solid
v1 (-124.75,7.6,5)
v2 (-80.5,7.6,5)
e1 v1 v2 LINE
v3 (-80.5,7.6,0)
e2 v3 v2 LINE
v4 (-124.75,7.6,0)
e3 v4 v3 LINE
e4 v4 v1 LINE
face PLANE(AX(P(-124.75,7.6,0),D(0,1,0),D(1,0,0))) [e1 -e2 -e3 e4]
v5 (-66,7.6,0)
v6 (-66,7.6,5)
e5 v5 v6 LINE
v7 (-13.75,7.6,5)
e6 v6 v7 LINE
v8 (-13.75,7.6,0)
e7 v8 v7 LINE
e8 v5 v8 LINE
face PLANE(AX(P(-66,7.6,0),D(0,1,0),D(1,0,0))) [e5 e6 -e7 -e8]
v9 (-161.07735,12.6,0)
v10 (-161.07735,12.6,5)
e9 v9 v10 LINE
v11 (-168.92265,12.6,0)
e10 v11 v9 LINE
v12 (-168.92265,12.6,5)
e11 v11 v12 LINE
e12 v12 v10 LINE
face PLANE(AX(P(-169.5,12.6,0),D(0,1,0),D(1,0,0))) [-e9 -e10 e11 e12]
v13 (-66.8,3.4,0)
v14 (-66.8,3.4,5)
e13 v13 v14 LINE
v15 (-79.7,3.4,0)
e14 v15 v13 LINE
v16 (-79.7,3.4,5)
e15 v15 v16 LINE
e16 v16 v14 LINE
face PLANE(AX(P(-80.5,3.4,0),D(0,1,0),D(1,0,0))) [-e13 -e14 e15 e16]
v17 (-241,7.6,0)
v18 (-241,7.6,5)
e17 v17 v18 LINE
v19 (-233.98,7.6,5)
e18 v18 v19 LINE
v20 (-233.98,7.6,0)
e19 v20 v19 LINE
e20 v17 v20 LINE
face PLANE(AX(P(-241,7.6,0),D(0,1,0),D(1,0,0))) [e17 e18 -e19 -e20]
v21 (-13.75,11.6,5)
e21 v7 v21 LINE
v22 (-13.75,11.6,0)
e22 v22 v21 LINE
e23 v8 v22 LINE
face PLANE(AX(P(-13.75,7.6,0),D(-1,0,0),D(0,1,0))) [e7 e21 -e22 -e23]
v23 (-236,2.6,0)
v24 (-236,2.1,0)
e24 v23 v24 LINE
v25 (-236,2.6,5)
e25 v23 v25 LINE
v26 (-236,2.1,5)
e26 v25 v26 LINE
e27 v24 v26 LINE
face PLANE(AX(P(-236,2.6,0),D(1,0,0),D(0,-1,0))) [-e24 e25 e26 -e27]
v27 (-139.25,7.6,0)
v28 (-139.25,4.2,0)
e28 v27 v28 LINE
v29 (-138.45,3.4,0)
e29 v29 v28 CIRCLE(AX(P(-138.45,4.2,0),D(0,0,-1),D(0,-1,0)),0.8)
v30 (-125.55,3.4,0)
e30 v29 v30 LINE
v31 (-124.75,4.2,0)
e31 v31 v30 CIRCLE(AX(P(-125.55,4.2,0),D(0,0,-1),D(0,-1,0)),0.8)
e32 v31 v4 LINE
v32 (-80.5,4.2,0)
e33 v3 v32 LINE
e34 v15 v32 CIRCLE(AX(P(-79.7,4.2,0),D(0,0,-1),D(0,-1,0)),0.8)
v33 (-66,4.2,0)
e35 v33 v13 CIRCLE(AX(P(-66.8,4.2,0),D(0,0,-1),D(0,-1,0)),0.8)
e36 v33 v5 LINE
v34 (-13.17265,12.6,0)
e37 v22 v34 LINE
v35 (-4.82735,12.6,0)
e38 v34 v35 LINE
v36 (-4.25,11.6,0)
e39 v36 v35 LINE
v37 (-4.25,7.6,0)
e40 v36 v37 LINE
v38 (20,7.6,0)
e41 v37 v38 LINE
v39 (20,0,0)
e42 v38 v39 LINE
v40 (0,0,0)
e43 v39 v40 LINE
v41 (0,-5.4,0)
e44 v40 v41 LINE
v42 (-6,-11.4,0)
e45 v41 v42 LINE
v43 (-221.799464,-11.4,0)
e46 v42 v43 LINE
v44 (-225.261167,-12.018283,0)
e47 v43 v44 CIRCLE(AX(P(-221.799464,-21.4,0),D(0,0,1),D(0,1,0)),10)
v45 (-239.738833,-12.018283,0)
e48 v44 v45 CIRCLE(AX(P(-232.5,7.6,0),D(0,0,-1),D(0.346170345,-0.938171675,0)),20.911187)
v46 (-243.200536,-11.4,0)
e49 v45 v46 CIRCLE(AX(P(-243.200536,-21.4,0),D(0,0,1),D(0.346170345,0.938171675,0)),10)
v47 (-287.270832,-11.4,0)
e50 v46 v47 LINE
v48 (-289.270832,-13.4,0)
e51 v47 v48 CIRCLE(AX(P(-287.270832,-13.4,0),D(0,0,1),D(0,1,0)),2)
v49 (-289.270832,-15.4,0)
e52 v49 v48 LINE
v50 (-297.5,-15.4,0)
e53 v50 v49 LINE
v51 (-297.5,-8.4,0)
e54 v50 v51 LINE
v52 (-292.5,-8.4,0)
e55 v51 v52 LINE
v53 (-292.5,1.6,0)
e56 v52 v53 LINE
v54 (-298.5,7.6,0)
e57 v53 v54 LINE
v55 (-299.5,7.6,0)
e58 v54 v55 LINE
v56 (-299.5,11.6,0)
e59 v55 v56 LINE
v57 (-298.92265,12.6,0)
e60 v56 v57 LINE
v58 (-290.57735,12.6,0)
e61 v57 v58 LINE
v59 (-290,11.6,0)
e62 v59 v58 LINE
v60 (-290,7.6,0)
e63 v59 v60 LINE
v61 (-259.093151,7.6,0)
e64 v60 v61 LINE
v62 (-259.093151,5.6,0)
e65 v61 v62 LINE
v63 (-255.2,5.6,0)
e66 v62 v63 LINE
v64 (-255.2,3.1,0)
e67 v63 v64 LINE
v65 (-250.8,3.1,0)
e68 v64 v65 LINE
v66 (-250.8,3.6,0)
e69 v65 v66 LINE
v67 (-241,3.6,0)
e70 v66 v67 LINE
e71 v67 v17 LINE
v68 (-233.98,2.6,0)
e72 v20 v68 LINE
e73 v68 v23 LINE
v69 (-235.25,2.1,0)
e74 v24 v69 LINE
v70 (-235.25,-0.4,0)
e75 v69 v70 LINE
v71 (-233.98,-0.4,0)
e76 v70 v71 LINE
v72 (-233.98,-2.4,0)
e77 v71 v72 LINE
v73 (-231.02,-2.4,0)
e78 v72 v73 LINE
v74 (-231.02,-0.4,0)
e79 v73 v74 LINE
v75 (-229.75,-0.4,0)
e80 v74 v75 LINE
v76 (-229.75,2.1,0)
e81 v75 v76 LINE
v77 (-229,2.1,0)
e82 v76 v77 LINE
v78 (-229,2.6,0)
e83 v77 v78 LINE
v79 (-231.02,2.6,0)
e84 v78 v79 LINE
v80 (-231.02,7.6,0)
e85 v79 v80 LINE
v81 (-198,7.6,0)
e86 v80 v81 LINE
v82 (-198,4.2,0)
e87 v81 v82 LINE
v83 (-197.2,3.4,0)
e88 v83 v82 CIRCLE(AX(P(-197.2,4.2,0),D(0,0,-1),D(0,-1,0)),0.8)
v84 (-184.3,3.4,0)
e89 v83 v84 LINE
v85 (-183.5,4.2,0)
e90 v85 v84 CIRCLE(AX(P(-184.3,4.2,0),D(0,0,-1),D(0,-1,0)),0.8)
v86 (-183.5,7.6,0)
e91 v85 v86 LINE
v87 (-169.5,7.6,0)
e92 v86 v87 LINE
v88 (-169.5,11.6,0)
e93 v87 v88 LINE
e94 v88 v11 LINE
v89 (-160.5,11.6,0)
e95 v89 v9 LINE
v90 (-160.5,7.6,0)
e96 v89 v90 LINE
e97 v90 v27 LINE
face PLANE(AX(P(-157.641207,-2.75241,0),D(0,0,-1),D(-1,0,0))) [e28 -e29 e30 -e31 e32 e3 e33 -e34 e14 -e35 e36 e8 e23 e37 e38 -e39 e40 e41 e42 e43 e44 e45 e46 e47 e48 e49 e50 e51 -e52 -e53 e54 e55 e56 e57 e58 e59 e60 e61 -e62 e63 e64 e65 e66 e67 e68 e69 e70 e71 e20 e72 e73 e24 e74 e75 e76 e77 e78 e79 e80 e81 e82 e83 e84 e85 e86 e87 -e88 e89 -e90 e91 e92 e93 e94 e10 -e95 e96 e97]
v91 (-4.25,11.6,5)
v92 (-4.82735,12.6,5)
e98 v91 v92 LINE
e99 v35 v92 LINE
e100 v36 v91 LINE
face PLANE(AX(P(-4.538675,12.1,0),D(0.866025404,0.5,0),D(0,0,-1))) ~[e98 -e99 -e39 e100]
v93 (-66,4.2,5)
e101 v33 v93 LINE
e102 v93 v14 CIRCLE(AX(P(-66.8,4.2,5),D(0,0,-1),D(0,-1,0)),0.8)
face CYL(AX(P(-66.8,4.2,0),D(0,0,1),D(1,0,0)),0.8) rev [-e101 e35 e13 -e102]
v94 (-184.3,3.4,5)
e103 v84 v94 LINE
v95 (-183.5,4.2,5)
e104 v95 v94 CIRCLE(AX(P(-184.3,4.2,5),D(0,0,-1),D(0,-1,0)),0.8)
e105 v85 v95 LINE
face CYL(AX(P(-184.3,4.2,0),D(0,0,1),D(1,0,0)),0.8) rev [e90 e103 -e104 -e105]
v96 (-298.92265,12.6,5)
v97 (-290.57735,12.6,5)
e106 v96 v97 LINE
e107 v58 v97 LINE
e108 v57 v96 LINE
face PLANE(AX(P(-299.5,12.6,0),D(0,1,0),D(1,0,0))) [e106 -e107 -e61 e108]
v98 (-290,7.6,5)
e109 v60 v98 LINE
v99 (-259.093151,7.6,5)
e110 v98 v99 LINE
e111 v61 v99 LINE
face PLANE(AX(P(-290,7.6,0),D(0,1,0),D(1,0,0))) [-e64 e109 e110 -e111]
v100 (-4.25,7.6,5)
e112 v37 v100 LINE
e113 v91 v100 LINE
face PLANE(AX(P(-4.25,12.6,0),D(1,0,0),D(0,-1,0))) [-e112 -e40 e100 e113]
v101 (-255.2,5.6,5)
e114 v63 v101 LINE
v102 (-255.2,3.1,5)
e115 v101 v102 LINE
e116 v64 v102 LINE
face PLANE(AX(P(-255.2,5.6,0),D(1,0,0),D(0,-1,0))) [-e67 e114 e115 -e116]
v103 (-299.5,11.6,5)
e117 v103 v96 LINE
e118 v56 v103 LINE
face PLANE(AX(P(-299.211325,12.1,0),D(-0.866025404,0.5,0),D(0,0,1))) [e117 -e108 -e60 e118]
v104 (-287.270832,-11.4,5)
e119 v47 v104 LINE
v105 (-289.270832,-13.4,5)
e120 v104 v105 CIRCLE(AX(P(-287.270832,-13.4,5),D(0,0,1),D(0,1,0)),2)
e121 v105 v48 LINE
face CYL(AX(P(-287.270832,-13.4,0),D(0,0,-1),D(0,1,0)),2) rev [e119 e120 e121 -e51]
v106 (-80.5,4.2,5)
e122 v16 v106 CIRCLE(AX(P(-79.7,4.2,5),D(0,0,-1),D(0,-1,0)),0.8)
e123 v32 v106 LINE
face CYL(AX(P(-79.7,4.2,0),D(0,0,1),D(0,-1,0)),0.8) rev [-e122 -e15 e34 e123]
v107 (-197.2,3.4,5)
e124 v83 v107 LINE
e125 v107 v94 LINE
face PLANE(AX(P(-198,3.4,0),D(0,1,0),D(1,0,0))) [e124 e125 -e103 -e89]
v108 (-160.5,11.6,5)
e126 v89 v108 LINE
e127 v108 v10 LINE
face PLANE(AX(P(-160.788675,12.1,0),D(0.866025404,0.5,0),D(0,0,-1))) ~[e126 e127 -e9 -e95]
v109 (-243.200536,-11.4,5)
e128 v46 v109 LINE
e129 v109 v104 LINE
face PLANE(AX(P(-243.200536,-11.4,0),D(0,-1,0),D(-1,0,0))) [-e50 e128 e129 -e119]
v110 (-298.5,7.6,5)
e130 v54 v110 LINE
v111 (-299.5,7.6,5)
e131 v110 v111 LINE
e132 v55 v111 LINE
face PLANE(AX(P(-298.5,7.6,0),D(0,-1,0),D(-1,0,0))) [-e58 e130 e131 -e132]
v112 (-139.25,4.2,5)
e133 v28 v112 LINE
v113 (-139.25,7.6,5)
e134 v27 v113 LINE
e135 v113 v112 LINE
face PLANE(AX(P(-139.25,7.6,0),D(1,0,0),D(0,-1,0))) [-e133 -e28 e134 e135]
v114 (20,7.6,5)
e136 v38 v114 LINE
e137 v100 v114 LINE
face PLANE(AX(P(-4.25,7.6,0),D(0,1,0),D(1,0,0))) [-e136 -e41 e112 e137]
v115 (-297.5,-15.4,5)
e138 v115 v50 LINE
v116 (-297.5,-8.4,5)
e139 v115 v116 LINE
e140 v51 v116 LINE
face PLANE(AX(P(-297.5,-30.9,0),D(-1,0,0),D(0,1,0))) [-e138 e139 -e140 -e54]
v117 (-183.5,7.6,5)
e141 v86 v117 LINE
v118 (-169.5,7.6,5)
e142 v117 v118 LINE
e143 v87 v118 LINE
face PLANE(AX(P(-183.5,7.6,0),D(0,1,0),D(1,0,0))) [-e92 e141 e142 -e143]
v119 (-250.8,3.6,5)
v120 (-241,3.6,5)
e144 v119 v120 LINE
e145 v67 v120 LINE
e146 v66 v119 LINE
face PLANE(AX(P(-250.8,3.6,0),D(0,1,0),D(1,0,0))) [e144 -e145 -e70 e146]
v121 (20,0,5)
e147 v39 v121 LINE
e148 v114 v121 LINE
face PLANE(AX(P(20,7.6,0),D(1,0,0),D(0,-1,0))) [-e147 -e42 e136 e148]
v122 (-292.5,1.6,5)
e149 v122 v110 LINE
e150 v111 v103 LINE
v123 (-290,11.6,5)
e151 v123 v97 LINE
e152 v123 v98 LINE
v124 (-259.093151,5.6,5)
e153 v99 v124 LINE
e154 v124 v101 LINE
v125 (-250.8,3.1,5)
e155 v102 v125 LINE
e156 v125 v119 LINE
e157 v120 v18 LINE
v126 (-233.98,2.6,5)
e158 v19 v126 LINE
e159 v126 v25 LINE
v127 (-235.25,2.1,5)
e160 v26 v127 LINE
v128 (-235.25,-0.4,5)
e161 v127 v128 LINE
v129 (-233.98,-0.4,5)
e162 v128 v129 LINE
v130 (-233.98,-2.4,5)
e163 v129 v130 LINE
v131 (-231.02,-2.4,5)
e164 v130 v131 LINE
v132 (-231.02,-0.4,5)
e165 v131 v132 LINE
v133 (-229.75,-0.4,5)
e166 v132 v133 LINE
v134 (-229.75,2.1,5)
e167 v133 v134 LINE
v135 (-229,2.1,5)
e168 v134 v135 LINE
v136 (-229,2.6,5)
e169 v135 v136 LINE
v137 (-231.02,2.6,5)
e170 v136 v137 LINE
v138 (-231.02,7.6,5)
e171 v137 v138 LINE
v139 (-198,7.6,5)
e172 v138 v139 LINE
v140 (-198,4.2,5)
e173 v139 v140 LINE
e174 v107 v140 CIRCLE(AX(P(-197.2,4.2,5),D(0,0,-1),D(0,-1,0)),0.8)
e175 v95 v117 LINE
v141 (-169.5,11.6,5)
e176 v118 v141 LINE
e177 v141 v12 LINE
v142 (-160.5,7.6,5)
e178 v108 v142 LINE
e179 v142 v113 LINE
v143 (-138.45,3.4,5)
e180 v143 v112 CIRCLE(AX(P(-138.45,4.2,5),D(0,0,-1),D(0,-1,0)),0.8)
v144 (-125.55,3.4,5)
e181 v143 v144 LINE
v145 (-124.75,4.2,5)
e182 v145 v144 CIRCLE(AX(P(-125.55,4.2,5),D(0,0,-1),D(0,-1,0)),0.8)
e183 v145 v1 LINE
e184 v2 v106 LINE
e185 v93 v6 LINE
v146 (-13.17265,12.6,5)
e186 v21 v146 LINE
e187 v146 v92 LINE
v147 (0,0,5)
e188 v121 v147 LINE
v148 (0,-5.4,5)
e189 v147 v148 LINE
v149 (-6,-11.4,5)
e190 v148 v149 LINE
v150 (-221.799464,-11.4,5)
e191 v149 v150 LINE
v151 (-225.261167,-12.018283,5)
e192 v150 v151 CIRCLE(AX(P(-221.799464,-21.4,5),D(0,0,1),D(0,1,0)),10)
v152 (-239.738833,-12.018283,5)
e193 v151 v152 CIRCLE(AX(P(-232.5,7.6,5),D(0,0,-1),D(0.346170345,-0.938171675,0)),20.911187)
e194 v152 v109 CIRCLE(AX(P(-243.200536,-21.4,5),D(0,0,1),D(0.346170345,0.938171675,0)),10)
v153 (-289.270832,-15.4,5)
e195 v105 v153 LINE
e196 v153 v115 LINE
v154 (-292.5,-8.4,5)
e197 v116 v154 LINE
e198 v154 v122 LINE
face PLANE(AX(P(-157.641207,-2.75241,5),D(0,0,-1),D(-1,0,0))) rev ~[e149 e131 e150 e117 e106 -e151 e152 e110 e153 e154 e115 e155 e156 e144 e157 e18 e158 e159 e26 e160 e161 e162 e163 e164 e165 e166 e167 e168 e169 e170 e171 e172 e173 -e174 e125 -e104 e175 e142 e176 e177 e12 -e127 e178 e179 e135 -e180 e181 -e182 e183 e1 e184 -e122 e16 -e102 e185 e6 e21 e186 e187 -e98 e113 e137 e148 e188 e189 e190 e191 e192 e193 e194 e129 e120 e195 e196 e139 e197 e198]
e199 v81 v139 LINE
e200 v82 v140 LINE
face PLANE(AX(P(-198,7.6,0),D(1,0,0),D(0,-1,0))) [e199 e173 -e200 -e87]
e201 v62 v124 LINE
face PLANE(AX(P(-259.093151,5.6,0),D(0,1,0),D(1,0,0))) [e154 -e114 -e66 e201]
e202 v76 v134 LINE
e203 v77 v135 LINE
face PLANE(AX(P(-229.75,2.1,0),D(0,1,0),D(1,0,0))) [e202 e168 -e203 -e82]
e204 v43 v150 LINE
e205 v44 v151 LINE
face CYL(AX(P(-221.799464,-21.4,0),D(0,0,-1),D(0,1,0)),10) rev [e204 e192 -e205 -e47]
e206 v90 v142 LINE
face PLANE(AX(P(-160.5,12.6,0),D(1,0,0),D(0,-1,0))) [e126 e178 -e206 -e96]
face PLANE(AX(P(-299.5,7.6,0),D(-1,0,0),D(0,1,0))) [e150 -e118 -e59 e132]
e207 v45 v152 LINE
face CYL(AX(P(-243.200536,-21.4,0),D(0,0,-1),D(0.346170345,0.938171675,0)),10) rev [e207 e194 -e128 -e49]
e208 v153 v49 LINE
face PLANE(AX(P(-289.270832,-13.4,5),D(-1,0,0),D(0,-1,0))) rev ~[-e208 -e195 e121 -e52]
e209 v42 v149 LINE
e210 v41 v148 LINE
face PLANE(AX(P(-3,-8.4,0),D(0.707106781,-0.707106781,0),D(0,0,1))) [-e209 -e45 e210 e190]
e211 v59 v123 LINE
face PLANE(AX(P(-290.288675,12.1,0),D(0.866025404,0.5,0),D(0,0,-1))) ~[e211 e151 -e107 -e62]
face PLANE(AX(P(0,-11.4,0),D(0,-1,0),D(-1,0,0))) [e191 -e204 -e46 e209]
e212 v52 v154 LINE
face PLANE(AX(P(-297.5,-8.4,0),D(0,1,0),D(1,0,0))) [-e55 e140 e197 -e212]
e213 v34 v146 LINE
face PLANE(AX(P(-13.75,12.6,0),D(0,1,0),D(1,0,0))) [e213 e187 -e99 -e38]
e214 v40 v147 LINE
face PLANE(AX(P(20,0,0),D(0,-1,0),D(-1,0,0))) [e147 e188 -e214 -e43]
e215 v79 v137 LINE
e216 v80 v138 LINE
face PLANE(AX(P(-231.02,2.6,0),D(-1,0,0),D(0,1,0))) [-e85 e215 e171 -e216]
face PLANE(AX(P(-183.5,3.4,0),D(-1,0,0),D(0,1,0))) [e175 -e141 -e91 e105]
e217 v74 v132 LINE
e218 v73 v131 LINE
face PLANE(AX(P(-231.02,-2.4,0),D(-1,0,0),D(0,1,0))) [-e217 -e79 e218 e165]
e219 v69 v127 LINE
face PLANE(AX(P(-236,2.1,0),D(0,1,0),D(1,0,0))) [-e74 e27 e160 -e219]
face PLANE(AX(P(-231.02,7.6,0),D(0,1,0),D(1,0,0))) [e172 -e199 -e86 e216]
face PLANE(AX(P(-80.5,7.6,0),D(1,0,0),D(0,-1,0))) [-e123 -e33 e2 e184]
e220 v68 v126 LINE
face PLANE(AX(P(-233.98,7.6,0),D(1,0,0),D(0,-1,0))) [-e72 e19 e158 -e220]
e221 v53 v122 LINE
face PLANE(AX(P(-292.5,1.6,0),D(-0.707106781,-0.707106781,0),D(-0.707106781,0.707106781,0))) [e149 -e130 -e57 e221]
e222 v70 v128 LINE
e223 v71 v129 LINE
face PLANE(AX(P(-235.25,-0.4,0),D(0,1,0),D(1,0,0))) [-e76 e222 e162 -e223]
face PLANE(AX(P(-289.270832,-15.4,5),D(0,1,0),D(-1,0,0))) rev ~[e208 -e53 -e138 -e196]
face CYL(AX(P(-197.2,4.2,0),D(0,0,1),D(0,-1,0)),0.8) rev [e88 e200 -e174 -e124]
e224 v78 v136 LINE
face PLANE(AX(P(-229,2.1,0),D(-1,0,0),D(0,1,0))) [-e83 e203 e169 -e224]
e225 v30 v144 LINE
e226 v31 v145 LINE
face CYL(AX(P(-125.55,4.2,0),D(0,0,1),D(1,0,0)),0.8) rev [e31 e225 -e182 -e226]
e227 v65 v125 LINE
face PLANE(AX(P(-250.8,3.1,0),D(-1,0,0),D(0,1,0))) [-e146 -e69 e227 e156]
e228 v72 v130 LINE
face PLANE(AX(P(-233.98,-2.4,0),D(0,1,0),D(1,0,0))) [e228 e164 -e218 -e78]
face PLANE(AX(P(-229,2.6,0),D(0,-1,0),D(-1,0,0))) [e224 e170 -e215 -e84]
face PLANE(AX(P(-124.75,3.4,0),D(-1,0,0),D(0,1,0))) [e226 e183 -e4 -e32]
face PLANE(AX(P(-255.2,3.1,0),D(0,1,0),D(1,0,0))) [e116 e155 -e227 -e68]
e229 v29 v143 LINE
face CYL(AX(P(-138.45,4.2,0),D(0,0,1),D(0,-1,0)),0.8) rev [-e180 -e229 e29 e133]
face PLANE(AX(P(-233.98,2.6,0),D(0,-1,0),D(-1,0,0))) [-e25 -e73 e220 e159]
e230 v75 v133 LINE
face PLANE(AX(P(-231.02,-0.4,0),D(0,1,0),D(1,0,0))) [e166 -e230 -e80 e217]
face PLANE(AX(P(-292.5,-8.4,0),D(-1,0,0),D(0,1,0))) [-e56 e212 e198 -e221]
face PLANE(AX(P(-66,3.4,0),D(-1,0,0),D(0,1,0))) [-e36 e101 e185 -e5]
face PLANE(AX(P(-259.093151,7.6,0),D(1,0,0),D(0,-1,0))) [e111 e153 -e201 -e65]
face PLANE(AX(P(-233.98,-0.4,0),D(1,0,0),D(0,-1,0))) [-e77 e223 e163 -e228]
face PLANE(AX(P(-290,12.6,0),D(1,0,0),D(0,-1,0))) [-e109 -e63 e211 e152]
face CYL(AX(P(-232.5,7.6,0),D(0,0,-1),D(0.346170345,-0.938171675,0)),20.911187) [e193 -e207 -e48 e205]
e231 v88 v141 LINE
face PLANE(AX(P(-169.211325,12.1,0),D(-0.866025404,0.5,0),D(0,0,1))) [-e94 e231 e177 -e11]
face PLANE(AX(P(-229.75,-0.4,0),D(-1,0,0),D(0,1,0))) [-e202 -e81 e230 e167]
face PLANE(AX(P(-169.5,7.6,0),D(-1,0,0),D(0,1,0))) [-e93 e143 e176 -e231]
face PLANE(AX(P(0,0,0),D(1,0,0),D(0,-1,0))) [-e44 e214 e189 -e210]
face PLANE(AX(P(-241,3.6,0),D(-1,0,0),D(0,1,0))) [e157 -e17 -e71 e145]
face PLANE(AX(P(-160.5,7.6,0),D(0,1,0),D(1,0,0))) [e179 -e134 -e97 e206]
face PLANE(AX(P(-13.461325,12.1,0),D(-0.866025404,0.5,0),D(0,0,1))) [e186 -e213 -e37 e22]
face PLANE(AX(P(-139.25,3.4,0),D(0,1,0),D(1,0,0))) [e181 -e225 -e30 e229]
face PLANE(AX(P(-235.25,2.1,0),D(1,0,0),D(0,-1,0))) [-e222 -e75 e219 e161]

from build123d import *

# Parameters (mm, degrees)
BOSS_EXTRUDE1_DEPTH   = 5
CHAMFER1_SIZE         = 6
CUT_EXTRUDE2_DEPTH    = 6
CHAMFER3_SIZE         = 1
CHAMFER3_SIZE2        = 0.577350269
CHAMFER3_PART_2_SIZE  = 1
CHAMFER3_PART_2_SIZE2 = 0.577350269
CHAMFER3_PART_3_SIZE  = 1
CHAMFER3_PART_3_SIZE2 = 0.577350269
CHAMFER4_SIZE         = 1
CHAMFER4_SIZE2        = 0.577350269
CHAMFER4_PART_2_SIZE  = 1
CHAMFER4_PART_2_SIZE2 = 0.577350269
CHAMFER4_PART_3_SIZE  = 1
CHAMFER4_PART_3_SIZE2 = 0.577350269
FILLET1_R             = 0.8


with BuildPart() as part:
    # Sketch1 → Boss-Extrude1 (new body)
    with BuildSketch(Plane.XY):
        with BuildLine():
            Line((-250.8, 3.6), (-241, 3.6))
            Line((-241, 3.6), (-241, 7.6))
            Line((-241, 7.6), (-233.98, 7.6))
            Line((-233.98, 7.6), (-233.98, 2.6))
            Line((-233.98, 2.6), (-236, 2.6))
            Line((-236, 2.6), (-236, 2.1))
            Line((-236, 2.1), (-235.25, 2.1))
            Line((-235.25, 2.1), (-235.25, -0.4))
            Line((-235.25, -0.4), (-233.98, -0.4))
            Line((-233.98, -0.4), (-233.98, -2.4))
            Line((-233.98, -2.4), (-231.02, -2.4))
            Line((-231.02, -2.4), (-231.02, -0.4))
            Line((-231.02, -0.4), (-229.75, -0.4))
            Line((-229.75, -0.4), (-229.75, 2.1))
            Line((-229.75, 2.1), (-229, 2.1))
            Line((-229, 2.1), (-229, 2.6))
            Line((-229, 2.6), (-231.02, 2.6))
            Line((-231.02, 2.6), (-231.02, 7.6))
            Line((-231.02, 7.6), (-198, 7.6))
            Line((-198, 7.6), (-198, 3.4))
            Line((-198, 3.4), (-183.5, 3.4))
            Line((-183.5, 3.4), (-183.5, 7.6))
            Line((-183.5, 7.6), (-169.5, 7.6))
            Line((-169.5, 7.6), (-169.5, 12.6))
            Line((-169.5, 12.6), (-160.5, 12.6))
            Line((-160.5, 12.6), (-160.5, 7.6))
            Line((-160.5, 7.6), (-139.25, 7.6))
            Line((-139.25, 7.6), (-139.25, 3.4))
            Line((-139.25, 3.4), (-124.75, 3.4))
            Line((-124.75, 3.4), (-124.75, 7.6))
            Line((-124.75, 7.6), (-80.5, 7.6))
            Line((-80.5, 7.6), (-80.5, 3.4))
            Line((-80.5, 3.4), (-66, 3.4))
            Line((-66, 3.4), (-66, 7.6))
            Line((-66, 7.6), (-13.75, 7.6))
            Line((-13.75, 7.6), (-13.75, 12.6))
            Line((-13.75, 12.6), (-4.25, 12.6))
            Line((-4.25, 12.6), (-4.25, 7.6))
            Line((-4.25, 7.6), (20, 7.6))
            Line((20, 7.6), (20, 0))
            Line((20, 0), (0, 0))
            Line((0, 0), (0, -11.4))
            Line((0, -11.4), (-221.799463771, -11.4))
            ThreePointArc((-221.799463771, -11.4), (-223.557706142, -11.555784248), (-225.261167219, -12.018283247))
            ThreePointArc((-225.261167219, -12.018283247), (-232.5, -13.3111869), (-239.738832781, -12.018283247))
            ThreePointArc((-239.738832781, -12.018283247), (-241.442293858, -11.555784248), (-243.200536229, -11.4))
            Line((-243.200536229, -11.4), (-287.270831989, -11.4))
            ThreePointArc((-287.270831989, -11.4), (-289.270831989, -13.4), (-287.270831989, -15.4))
            Line((-287.270831989, -15.4), (-282, -15.4))
            Line((-282, -15.4), (-282, -18.281197846))
            Line((-282, -18.281197846), (-283, -20.013248654))
            Line((-283, -20.013248654), (-286, -18.281197846))
            Line((-286, -18.281197846), (-290, -20.590598923))
            Line((-290, -20.590598923), (-290, -25.209401077))
            Line((-290, -25.209401077), (-286, -27.518802154))
            Line((-286, -27.518802154), (-283, -25.786751346))
            Line((-283, -25.786751346), (-282, -27.518802154))
            Line((-282, -27.518802154), (-282, -30.9))
            Line((-282, -30.9), (-297.5, -30.9))
            Line((-297.5, -30.9), (-297.5, -8.4))
            Line((-297.5, -8.4), (-292.5, -8.4))
            Line((-292.5, -8.4), (-292.5, 1.6))
            Line((-292.5, 1.6), (-298.5, 7.6))
            Line((-298.5, 7.6), (-299.5, 7.6))
            Line((-299.5, 7.6), (-299.5, 12.6))
            Line((-299.5, 12.6), (-290, 12.6))
            Line((-290, 12.6), (-290, 7.6))
            Line((-290, 7.6), (-259.093151184, 7.6))
            Line((-259.093151184, 7.6), (-259.093151184, 5.6))
            Line((-259.093151184, 5.6), (-255.2, 5.6))
            Line((-255.2, 5.6), (-255.2, 3.1))
            Line((-255.2, 3.1), (-250.8, 3.1))
            Line((-250.8, 3.1), (-250.8, 3.6))
        make_face()
    extrude(amount=BOSS_EXTRUDE1_DEPTH)

    # Chamfer1
    chamfer1_edges = [part.edges().sort_by_distance(p)[0] for p in [
        (0, -11.4, 2.5),
    ]]
    chamfer(chamfer1_edges, length=CHAMFER1_SIZE)

    # Sketch3 → Cut-Extrude2 (cut, through all)
    with BuildSketch(Plane.XY.offset(5)):
        Polygon((-289.270831989, -13.4), (-289.270831989, -15.4), (-297.5, -15.4), (-297.5, -30.9), (-282, -30.9), (-282, -13.4), align=None)
    extrude(amount=-CUT_EXTRUDE2_DEPTH, mode=Mode.SUBTRACT)

    # Chamfer3
    chamfer3_edges = [part.edges().sort_by_distance(p)[0] for p in [
        (-290, 12.6, 2.5),
    ]]
    chamfer3_side = [part.faces().sort_by_distance(p)[0] for p in [
        (-290, 10.1, 2.5),
    ]]
    chamfer(chamfer3_edges, length=CHAMFER3_SIZE, length2=CHAMFER3_SIZE2, reference=chamfer3_side[0])

    # Chamfer3 part 2
    chamfer3_part_2_edges = [part.edges().sort_by_distance(p)[0] for p in [
        (-160.5, 12.6, 2.5),
    ]]
    chamfer3_part_2_side = [part.faces().sort_by_distance(p)[0] for p in [
        (-160.5, 10.1, 2.5),
    ]]
    chamfer(chamfer3_part_2_edges, length=CHAMFER3_PART_2_SIZE, length2=CHAMFER3_PART_2_SIZE2, reference=chamfer3_part_2_side[0])

    # Chamfer3 part 3
    chamfer3_part_3_edges = [part.edges().sort_by_distance(p)[0] for p in [
        (-4.25, 12.6, 2.5),
    ]]
    chamfer3_part_3_side = [part.faces().sort_by_distance(p)[0] for p in [
        (-4.25, 10.1, 2.5),
    ]]
    chamfer(chamfer3_part_3_edges, length=CHAMFER3_PART_3_SIZE, length2=CHAMFER3_PART_3_SIZE2, reference=chamfer3_part_3_side[0])

    # Chamfer4
    chamfer4_edges = [part.edges().sort_by_distance(p)[0] for p in [
        (-299.5, 12.6, 2.5),
    ]]
    chamfer4_side = [part.faces().sort_by_distance(p)[0] for p in [
        (-299.5, 10.1, 2.5),
    ]]
    chamfer(chamfer4_edges, length=CHAMFER4_SIZE, length2=CHAMFER4_SIZE2, reference=chamfer4_side[0])

    # Chamfer4 part 2
    chamfer4_part_2_edges = [part.edges().sort_by_distance(p)[0] for p in [
        (-169.5, 12.6, 2.5),
    ]]
    chamfer4_part_2_side = [part.faces().sort_by_distance(p)[0] for p in [
        (-169.5, 10.1, 2.5),
    ]]
    chamfer(chamfer4_part_2_edges, length=CHAMFER4_PART_2_SIZE, length2=CHAMFER4_PART_2_SIZE2, reference=chamfer4_part_2_side[0])

    # Chamfer4 part 3
    chamfer4_part_3_edges = [part.edges().sort_by_distance(p)[0] for p in [
        (-13.75, 12.6, 2.5),
    ]]
    chamfer4_part_3_side = [part.faces().sort_by_distance(p)[0] for p in [
        (-13.75, 10.1, 2.5),
    ]]
    chamfer(chamfer4_part_3_edges, length=CHAMFER4_PART_3_SIZE, length2=CHAMFER4_PART_3_SIZE2, reference=chamfer4_part_3_side[0])

    # Fillet1
    fillet1_edges = [part.edges().sort_by_distance(p)[0] for p in [
        (-198, 3.4, 2.5),
        (-183.5, 3.4, 2.5),
        (-139.25, 3.4, 2.5),
        (-124.75, 3.4, 2.5),
        (-80.5, 3.4, 2.5),
        (-66, 3.4, 2.5),
    ]]
    fillet(fillet1_edges, radius=FILLET1_R)


solid = part.part
